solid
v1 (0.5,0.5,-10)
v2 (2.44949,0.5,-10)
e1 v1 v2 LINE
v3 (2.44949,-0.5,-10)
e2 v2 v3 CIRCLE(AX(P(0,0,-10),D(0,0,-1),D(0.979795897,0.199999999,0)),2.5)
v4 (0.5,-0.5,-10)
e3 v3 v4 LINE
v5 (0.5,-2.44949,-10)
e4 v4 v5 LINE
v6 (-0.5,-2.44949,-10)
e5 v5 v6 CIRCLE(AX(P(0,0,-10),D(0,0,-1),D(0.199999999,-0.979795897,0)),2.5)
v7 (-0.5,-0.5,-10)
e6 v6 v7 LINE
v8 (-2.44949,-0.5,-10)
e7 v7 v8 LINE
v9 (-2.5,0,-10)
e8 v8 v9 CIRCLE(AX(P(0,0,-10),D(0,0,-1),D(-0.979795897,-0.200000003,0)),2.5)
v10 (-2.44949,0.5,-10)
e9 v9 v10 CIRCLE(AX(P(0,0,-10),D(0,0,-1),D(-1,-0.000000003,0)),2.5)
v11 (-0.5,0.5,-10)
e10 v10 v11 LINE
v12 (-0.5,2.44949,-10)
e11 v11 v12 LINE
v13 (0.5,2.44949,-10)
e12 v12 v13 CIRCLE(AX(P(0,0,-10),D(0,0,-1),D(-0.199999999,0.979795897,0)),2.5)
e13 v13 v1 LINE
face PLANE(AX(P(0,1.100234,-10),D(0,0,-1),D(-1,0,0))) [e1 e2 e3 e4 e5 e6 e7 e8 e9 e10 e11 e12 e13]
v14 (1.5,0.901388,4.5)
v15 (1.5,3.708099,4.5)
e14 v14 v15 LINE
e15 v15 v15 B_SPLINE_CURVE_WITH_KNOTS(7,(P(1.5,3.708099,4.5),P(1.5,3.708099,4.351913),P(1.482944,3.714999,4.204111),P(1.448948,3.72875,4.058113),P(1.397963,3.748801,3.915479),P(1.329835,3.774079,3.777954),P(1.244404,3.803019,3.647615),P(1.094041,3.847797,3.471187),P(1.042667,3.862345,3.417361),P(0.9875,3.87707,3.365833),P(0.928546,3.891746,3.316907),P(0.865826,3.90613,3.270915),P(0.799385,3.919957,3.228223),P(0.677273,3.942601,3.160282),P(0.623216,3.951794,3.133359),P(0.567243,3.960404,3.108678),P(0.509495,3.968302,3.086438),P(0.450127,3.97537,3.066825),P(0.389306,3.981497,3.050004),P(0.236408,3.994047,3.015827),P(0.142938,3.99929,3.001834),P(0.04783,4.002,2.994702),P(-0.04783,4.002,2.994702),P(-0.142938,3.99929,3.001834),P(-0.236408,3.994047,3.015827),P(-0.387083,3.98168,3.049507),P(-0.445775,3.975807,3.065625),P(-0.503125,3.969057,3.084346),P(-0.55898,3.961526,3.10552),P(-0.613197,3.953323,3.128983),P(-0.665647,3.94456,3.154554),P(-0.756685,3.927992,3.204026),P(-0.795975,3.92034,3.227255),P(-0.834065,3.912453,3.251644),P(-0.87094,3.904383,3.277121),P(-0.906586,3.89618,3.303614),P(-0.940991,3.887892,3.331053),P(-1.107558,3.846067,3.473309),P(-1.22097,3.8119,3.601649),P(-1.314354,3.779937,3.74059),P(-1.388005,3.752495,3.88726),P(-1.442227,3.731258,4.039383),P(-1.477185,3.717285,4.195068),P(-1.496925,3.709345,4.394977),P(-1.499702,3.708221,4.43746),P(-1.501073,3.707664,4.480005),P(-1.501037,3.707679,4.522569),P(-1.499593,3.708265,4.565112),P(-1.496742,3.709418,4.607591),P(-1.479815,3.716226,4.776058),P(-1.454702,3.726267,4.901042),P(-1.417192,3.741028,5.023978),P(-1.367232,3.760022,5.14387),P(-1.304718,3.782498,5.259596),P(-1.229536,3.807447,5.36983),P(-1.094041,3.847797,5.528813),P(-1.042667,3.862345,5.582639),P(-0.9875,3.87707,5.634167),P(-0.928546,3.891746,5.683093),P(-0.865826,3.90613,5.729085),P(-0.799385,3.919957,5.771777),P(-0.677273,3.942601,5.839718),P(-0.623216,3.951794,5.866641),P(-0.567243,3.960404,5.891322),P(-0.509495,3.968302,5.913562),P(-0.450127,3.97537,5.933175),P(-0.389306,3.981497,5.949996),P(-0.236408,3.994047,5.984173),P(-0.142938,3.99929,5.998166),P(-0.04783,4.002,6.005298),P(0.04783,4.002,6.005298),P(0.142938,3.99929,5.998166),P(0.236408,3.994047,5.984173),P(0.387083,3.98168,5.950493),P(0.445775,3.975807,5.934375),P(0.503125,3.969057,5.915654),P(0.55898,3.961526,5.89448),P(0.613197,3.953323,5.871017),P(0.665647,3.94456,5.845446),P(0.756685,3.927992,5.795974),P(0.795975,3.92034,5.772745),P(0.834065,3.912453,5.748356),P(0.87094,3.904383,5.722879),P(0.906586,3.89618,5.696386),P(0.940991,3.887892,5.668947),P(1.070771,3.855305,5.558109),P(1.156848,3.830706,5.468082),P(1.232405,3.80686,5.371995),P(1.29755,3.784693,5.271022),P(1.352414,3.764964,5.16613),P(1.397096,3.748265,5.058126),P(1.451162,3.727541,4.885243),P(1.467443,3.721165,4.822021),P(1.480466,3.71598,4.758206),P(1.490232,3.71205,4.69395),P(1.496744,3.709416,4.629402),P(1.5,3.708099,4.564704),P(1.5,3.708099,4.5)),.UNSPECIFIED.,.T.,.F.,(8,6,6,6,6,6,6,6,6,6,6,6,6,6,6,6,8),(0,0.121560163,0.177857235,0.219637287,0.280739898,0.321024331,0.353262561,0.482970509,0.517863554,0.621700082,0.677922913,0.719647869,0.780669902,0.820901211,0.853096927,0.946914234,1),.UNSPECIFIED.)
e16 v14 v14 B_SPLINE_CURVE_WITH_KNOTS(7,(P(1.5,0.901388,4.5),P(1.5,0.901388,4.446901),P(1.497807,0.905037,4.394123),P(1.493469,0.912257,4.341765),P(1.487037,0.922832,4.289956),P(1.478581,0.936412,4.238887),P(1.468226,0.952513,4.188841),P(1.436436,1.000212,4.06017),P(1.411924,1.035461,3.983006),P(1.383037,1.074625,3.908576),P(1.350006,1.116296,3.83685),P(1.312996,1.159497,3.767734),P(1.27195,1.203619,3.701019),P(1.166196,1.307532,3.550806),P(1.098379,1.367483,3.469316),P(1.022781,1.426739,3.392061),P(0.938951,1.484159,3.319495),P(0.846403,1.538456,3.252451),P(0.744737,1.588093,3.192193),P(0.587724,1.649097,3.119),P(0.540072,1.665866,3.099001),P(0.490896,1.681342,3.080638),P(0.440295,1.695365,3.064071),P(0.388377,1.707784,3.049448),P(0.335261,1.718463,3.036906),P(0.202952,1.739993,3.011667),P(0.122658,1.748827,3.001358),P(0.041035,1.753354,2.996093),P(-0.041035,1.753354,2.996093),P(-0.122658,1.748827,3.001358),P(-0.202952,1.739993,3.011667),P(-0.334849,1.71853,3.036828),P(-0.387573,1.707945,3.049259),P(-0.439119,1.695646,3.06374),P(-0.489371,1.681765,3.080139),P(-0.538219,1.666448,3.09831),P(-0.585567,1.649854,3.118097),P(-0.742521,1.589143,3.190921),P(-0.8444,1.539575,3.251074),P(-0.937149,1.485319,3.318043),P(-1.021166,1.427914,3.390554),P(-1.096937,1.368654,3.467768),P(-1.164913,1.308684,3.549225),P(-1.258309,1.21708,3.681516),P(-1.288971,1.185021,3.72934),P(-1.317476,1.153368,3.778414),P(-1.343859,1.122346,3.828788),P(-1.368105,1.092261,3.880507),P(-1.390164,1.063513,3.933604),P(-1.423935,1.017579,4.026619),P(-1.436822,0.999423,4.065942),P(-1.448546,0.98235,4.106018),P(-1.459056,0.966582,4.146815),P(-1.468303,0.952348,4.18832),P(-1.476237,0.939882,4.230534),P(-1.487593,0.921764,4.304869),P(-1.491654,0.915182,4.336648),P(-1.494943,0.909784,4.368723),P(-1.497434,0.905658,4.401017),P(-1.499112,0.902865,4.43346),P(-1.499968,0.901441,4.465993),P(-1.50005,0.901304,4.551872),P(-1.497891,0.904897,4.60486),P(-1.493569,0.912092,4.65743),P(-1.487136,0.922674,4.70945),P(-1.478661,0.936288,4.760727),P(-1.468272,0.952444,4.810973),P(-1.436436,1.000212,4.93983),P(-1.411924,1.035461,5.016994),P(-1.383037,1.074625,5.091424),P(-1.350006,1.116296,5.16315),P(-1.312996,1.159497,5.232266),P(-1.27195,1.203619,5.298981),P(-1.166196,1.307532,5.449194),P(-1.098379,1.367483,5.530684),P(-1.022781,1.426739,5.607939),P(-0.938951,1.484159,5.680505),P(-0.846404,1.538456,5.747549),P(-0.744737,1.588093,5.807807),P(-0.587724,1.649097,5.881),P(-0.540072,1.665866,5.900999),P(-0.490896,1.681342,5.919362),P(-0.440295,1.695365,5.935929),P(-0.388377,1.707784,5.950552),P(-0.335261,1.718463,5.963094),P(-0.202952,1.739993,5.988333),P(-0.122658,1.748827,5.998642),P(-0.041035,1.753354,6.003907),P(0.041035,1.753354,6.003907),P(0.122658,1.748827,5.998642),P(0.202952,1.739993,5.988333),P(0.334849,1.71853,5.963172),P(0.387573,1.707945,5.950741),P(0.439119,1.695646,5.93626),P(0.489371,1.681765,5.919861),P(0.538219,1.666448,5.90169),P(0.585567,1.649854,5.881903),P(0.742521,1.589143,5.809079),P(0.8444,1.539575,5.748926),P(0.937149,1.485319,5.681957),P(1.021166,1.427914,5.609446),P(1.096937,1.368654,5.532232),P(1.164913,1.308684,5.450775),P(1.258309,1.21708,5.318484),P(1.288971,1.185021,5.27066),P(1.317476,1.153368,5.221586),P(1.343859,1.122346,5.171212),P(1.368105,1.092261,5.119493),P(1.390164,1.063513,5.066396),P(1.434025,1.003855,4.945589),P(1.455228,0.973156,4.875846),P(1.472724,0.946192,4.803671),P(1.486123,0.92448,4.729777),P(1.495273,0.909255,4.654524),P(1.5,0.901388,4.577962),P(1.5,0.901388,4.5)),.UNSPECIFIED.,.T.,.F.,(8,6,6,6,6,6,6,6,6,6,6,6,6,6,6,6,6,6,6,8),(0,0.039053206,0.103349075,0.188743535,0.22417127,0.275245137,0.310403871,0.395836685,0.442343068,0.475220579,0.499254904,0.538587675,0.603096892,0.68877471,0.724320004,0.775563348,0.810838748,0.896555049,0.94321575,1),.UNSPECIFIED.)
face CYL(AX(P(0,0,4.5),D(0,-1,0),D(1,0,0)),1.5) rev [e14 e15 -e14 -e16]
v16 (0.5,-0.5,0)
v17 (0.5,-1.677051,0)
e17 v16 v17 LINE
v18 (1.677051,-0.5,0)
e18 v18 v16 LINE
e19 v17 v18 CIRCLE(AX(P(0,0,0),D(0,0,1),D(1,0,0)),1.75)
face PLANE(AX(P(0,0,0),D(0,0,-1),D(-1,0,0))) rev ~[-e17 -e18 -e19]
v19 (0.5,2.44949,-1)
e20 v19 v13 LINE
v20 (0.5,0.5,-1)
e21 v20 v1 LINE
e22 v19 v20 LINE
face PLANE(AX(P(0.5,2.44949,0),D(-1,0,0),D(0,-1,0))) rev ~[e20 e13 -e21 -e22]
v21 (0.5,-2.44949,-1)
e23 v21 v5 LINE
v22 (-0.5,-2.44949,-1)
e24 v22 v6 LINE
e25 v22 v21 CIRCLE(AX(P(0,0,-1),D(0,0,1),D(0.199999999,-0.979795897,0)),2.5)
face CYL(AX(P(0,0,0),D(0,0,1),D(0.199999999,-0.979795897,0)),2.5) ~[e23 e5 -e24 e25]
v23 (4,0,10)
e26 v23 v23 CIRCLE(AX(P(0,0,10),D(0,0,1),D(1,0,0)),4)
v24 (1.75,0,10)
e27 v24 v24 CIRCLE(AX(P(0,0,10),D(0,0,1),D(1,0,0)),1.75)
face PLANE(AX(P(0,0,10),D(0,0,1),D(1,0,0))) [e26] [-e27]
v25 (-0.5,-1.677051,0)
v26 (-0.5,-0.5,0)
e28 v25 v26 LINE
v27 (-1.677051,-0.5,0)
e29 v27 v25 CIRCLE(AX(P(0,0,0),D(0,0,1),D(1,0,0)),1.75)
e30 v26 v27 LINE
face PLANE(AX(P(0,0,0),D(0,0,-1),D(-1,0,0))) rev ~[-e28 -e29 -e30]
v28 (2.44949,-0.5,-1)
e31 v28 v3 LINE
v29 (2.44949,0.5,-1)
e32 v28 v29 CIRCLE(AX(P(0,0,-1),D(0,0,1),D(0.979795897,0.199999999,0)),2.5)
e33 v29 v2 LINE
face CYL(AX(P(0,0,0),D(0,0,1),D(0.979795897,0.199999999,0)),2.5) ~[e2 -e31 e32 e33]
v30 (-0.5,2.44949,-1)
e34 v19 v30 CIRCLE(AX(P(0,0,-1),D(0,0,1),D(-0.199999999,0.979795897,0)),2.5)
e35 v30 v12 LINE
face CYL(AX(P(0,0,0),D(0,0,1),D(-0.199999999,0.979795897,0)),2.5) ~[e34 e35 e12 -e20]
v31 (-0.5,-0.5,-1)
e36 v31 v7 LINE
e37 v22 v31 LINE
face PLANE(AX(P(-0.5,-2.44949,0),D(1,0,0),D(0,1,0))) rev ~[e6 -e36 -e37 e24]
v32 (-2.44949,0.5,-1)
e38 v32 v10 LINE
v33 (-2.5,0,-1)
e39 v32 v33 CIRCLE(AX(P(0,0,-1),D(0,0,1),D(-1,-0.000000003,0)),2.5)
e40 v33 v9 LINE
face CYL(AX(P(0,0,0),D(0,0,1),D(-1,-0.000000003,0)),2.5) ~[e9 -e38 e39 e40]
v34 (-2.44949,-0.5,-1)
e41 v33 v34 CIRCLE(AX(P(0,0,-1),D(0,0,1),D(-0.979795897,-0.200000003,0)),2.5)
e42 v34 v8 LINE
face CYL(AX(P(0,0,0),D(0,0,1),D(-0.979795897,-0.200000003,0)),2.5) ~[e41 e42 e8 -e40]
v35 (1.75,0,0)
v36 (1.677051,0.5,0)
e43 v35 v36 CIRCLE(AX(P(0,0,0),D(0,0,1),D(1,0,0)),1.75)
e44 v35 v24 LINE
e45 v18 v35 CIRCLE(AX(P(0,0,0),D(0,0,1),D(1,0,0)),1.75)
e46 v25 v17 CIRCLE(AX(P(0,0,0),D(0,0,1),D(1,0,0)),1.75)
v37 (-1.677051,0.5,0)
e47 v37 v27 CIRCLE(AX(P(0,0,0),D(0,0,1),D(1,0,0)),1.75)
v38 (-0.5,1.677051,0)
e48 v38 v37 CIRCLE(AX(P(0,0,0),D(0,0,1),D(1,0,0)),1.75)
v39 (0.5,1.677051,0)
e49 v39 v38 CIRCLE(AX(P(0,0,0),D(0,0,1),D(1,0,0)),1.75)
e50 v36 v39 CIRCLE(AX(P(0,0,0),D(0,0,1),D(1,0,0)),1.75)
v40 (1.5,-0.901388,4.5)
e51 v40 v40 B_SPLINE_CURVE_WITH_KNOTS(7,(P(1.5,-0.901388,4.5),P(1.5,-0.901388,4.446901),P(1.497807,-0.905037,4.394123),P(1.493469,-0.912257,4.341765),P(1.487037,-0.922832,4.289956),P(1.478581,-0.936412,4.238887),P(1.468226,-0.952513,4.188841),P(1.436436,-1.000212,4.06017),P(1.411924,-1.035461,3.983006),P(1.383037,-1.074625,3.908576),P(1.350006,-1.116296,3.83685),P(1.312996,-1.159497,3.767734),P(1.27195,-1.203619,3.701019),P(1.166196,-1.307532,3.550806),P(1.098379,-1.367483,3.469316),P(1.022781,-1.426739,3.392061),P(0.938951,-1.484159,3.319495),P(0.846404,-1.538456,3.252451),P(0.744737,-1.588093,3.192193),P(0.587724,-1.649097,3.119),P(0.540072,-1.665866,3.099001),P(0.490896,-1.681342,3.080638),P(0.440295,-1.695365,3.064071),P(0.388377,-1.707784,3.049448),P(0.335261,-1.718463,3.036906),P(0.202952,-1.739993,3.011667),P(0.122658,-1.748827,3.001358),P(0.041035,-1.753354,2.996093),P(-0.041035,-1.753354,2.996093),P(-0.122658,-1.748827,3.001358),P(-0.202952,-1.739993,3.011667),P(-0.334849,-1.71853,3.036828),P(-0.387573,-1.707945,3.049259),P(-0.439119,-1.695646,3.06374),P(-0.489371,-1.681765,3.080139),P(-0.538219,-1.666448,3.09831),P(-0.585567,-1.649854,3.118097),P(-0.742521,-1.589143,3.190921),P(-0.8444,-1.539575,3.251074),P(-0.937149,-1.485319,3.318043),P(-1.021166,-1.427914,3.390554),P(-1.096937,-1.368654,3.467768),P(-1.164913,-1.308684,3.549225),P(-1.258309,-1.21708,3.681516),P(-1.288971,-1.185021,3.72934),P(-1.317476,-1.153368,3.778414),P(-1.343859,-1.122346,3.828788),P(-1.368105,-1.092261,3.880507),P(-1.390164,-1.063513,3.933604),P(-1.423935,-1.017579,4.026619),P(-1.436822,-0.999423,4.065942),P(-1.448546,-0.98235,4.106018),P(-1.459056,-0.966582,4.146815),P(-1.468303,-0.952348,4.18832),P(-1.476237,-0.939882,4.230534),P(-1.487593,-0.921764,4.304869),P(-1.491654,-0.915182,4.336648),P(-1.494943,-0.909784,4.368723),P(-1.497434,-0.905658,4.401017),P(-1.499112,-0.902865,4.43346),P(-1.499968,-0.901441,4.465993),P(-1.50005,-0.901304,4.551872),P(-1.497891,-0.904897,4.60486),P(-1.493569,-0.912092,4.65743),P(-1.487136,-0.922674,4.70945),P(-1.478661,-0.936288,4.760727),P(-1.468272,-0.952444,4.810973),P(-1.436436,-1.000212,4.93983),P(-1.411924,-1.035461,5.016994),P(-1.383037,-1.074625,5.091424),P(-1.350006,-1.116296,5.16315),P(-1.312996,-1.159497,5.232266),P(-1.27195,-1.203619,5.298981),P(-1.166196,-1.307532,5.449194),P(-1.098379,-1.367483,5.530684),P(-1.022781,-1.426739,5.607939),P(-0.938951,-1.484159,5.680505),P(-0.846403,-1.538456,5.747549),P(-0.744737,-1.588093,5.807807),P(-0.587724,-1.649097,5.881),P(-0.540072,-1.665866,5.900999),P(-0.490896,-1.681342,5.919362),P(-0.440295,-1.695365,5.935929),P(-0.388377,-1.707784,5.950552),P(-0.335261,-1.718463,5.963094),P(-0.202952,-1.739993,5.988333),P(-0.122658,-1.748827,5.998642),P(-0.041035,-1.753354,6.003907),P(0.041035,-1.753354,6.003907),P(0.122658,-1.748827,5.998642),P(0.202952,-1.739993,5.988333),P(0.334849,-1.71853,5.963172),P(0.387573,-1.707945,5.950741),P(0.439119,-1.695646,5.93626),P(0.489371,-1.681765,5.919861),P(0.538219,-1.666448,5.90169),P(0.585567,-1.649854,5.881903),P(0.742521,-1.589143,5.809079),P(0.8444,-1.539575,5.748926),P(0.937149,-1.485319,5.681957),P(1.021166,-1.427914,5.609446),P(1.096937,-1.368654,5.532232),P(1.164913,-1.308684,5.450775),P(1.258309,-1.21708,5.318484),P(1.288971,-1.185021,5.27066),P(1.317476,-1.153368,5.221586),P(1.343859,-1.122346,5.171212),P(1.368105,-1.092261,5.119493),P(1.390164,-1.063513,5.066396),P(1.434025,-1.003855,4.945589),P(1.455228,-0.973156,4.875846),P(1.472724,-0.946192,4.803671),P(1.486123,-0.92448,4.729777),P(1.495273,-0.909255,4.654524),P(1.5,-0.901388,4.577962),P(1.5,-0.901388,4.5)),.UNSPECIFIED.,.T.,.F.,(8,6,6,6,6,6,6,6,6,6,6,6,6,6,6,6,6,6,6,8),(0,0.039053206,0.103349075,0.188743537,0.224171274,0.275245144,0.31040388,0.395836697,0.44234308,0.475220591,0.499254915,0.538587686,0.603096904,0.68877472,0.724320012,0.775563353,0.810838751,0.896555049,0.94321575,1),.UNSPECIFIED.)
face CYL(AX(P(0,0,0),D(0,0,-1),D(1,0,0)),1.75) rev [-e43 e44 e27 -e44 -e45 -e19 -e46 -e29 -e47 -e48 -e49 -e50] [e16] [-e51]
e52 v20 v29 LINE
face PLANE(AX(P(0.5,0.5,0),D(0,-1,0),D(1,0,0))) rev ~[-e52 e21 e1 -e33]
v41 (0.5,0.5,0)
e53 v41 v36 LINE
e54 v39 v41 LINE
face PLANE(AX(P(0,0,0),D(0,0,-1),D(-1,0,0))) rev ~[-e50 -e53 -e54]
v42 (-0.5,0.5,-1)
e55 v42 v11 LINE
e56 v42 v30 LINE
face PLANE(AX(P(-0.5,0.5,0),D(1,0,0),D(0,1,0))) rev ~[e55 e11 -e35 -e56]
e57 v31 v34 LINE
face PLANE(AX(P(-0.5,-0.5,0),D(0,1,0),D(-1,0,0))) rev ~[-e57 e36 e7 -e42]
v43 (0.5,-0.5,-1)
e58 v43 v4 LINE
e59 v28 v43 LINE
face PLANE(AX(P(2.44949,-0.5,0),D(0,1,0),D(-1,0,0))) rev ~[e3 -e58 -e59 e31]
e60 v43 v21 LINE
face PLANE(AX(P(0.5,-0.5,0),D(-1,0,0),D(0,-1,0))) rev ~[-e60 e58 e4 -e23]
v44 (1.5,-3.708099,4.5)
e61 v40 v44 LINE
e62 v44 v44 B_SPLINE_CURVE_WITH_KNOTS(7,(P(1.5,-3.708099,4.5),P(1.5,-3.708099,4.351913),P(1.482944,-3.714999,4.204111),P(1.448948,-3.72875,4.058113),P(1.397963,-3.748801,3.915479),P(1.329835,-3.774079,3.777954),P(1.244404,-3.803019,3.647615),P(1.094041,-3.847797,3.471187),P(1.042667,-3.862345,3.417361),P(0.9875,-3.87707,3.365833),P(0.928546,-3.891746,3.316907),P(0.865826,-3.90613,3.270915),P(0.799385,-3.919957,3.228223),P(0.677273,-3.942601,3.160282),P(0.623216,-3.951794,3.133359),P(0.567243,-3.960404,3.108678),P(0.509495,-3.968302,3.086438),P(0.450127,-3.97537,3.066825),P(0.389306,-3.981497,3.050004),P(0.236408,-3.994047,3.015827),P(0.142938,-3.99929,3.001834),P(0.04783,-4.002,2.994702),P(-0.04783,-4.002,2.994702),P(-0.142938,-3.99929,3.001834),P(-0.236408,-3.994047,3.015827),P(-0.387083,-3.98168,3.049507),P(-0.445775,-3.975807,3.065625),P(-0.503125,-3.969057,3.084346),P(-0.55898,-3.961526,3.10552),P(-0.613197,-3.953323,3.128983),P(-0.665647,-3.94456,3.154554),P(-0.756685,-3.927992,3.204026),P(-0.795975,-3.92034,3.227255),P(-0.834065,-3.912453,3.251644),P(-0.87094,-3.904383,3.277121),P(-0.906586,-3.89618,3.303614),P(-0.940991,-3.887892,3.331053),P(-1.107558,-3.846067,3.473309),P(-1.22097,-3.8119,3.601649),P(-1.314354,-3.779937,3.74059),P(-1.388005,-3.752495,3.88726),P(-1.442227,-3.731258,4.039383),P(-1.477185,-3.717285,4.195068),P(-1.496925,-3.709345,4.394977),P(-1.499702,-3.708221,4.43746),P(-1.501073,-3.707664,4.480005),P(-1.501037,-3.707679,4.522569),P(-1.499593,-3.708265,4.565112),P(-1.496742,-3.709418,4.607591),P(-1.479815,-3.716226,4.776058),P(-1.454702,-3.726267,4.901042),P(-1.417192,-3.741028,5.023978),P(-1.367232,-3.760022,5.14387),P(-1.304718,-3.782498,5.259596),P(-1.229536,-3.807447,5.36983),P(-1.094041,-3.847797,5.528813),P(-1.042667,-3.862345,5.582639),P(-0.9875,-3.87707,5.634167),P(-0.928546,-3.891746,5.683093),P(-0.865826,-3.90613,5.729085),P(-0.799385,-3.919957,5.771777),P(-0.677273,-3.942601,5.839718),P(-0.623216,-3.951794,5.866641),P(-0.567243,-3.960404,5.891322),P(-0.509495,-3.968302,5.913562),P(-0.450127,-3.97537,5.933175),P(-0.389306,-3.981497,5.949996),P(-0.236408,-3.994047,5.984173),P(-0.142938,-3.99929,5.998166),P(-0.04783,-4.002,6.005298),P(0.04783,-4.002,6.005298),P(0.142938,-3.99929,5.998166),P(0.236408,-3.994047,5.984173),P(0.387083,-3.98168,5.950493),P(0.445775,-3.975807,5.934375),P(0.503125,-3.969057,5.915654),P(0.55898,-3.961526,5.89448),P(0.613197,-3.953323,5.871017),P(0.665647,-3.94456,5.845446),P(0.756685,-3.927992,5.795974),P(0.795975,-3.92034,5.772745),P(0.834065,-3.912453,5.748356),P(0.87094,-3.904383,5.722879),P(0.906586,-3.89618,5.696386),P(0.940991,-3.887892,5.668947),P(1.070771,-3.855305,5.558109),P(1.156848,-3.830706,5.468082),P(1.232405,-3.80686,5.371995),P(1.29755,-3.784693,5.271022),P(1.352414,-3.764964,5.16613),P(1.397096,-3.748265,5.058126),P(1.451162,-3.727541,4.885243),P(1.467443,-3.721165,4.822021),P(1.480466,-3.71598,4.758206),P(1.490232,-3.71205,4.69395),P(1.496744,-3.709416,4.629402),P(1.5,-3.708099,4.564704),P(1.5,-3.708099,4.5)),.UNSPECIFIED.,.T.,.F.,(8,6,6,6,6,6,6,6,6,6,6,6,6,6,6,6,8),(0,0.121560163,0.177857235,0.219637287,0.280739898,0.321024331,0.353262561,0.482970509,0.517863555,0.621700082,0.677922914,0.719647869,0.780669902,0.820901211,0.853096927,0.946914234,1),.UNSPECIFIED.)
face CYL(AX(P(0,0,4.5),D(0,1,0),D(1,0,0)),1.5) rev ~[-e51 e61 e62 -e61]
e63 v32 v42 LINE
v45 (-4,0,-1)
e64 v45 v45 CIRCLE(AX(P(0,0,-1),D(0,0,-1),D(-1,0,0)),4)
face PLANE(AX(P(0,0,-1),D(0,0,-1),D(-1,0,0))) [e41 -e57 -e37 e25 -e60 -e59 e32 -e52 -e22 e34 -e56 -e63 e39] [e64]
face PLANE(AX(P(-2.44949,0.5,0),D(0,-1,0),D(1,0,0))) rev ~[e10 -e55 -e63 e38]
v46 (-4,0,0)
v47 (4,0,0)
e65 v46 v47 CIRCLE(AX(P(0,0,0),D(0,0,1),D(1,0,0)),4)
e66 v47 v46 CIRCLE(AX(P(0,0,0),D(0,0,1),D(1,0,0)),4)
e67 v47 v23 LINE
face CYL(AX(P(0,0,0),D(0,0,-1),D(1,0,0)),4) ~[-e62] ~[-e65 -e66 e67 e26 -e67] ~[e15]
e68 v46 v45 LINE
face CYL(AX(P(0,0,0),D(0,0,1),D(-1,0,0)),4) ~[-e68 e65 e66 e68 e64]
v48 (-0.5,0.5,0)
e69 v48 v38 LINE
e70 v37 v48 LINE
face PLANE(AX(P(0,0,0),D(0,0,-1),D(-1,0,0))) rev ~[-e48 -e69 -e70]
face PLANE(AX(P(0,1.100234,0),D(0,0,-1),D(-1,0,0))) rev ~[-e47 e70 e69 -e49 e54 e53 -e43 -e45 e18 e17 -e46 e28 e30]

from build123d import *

# Parameters (mm, degrees)
SKETCH1_R               = 4
SKETCH1_R_2             = 1.75
BOSS_EXTRUDE1_DEPTH     = 10
SKETCH2_W               = 1
SKETCH2_H               = 1
BOSS_EXTRUDE2_DEPTH     = 10
SKETCH3_R               = 4
BOSS_EXTRUDE3_DEPTH     = 1
SKETCH4_R               = 1.5
CUT_EXTRUDE1_DEPTH      = 5
CUT_EXTRUDE1_DEPTH_BACK = 5


with BuildPart() as part:
    # Sketch1 → Boss-Extrude1 (new body)
    with BuildSketch(Plane.XY):
        Circle(SKETCH1_R)
        Circle(SKETCH1_R_2, mode=Mode.SUBTRACT)
    extrude(amount=BOSS_EXTRUDE1_DEPTH)

    # Sketch2 → Boss-Extrude2 (add)
    with BuildSketch(Plane(origin=(0, 0, 0), x_dir=(-1, 0, 0), z_dir=(0, 0, -1))):
        with BuildLine():
            ThreePointArc((0.5, 1.677050983), (0, 1.75), (-0.5, 1.677050983))
            Line((-0.5, 1.677050983), (-0.5, 0.5))
            Line((-0.5, 0.5), (0.5, 0.5))
            Line((0.5, 0.5), (0.5, 1.677050983))
        make_face()
        with BuildLine():
            ThreePointArc((0.5, 2.449489743), (0, 2.5), (-0.5, 2.449489743))
            Line((-0.5, 2.449489743), (-0.5, 1.677050983))
            ThreePointArc((-0.5, 1.677050983), (0, 1.75), (0.5, 1.677050983))
            Line((0.5, 1.677050983), (0.5, 2.449489743))
        make_face()
        with BuildLine():
            Line((-0.5, -1.677050983), (-0.5, -2.449489743))
            ThreePointArc((-0.5, -2.449489743), (0, -2.5), (0.5, -2.449489743))
            Line((0.5, -2.449489743), (0.5, -1.677050983))
            ThreePointArc((0.5, -1.677050983), (0, -1.75), (-0.5, -1.677050983))
        make_face()
        with BuildLine():
            Line((-0.5, -0.5), (-0.5, 0.5))
            Line((-0.5, 0.5), (-1.677050983, 0.5))
            ThreePointArc((-1.677050983, 0.5), (-1.75, 0), (-1.677050983, -0.5))
            Line((-1.677050983, -0.5), (-0.5, -0.5))
        make_face()
        with BuildLine():
            Line((-1.677050983, 0.5), (-2.449489743, 0.5))
            ThreePointArc((-2.449489743, 0.5), (-2.5, 0), (-2.449489743, -0.5))
            Line((-2.449489743, -0.5), (-1.677050983, -0.5))
            ThreePointArc((-1.677050983, -0.5), (-1.75, 0), (-1.677050983, 0.5))
        make_face()
        with BuildLine():
            ThreePointArc((2.5, 0), (2.487340383, 0.251272405), (2.449489743, 0.5))
            Line((2.449489743, 0.5), (1.677050983, 0.5))
            ThreePointArc((1.677050983, 0.5), (1.731666715, 0.252646769), (1.75, 0))
            ThreePointArc((1.75, 0), (1.731666715, -0.252646769), (1.677050983, -0.5))
            Line((1.677050983, -0.5), (2.449489743, -0.5))
            ThreePointArc((2.449489743, -0.5), (2.487340383, -0.251272405), (2.5, 0))
        make_face()
        with BuildLine():
            Line((0.5, -0.5), (-0.5, -0.5))
            Line((-0.5, -0.5), (-0.5, -1.677050983))
            ThreePointArc((-0.5, -1.677050983), (0, -1.75), (0.5, -1.677050983))
            Line((0.5, -1.677050983), (0.5, -0.5))
        make_face()
        Rectangle(SKETCH2_W, SKETCH2_H)
        with BuildLine():
            Line((1.677050983, 0.5), (0.5, 0.5))
            Line((0.5, 0.5), (0.5, -0.5))
            Line((0.5, -0.5), (1.677050983, -0.5))
            ThreePointArc((1.677050983, -0.5), (1.731666715, -0.252646769), (1.75, 0))
            ThreePointArc((1.75, 0), (1.731666715, 0.252646769), (1.677050983, 0.5))
        make_face()
    extrude(amount=BOSS_EXTRUDE2_DEPTH)

    # Sketch3 → Boss-Extrude3 (add)
    with BuildSketch(Plane(origin=(0, 0, 0), x_dir=(-1, 0, 0), z_dir=(0, 0, -1))):
        Circle(SKETCH3_R)
    extrude(amount=BOSS_EXTRUDE3_DEPTH)

    # Sketch4 → Cut-Extrude1 (cut, two sides)
    with BuildSketch(Plane(origin=(0, 0, 0), x_dir=(1, 0, 0), z_dir=(0, 1, 0))) as cut_extrude1_sk:
        with Locations((0, -4.5)):
            Circle(SKETCH4_R)
    extrude(amount=CUT_EXTRUDE1_DEPTH, mode=Mode.SUBTRACT)
    extrude(cut_extrude1_sk.sketch, amount=-CUT_EXTRUDE1_DEPTH_BACK, mode=Mode.SUBTRACT)


solid = part.part
